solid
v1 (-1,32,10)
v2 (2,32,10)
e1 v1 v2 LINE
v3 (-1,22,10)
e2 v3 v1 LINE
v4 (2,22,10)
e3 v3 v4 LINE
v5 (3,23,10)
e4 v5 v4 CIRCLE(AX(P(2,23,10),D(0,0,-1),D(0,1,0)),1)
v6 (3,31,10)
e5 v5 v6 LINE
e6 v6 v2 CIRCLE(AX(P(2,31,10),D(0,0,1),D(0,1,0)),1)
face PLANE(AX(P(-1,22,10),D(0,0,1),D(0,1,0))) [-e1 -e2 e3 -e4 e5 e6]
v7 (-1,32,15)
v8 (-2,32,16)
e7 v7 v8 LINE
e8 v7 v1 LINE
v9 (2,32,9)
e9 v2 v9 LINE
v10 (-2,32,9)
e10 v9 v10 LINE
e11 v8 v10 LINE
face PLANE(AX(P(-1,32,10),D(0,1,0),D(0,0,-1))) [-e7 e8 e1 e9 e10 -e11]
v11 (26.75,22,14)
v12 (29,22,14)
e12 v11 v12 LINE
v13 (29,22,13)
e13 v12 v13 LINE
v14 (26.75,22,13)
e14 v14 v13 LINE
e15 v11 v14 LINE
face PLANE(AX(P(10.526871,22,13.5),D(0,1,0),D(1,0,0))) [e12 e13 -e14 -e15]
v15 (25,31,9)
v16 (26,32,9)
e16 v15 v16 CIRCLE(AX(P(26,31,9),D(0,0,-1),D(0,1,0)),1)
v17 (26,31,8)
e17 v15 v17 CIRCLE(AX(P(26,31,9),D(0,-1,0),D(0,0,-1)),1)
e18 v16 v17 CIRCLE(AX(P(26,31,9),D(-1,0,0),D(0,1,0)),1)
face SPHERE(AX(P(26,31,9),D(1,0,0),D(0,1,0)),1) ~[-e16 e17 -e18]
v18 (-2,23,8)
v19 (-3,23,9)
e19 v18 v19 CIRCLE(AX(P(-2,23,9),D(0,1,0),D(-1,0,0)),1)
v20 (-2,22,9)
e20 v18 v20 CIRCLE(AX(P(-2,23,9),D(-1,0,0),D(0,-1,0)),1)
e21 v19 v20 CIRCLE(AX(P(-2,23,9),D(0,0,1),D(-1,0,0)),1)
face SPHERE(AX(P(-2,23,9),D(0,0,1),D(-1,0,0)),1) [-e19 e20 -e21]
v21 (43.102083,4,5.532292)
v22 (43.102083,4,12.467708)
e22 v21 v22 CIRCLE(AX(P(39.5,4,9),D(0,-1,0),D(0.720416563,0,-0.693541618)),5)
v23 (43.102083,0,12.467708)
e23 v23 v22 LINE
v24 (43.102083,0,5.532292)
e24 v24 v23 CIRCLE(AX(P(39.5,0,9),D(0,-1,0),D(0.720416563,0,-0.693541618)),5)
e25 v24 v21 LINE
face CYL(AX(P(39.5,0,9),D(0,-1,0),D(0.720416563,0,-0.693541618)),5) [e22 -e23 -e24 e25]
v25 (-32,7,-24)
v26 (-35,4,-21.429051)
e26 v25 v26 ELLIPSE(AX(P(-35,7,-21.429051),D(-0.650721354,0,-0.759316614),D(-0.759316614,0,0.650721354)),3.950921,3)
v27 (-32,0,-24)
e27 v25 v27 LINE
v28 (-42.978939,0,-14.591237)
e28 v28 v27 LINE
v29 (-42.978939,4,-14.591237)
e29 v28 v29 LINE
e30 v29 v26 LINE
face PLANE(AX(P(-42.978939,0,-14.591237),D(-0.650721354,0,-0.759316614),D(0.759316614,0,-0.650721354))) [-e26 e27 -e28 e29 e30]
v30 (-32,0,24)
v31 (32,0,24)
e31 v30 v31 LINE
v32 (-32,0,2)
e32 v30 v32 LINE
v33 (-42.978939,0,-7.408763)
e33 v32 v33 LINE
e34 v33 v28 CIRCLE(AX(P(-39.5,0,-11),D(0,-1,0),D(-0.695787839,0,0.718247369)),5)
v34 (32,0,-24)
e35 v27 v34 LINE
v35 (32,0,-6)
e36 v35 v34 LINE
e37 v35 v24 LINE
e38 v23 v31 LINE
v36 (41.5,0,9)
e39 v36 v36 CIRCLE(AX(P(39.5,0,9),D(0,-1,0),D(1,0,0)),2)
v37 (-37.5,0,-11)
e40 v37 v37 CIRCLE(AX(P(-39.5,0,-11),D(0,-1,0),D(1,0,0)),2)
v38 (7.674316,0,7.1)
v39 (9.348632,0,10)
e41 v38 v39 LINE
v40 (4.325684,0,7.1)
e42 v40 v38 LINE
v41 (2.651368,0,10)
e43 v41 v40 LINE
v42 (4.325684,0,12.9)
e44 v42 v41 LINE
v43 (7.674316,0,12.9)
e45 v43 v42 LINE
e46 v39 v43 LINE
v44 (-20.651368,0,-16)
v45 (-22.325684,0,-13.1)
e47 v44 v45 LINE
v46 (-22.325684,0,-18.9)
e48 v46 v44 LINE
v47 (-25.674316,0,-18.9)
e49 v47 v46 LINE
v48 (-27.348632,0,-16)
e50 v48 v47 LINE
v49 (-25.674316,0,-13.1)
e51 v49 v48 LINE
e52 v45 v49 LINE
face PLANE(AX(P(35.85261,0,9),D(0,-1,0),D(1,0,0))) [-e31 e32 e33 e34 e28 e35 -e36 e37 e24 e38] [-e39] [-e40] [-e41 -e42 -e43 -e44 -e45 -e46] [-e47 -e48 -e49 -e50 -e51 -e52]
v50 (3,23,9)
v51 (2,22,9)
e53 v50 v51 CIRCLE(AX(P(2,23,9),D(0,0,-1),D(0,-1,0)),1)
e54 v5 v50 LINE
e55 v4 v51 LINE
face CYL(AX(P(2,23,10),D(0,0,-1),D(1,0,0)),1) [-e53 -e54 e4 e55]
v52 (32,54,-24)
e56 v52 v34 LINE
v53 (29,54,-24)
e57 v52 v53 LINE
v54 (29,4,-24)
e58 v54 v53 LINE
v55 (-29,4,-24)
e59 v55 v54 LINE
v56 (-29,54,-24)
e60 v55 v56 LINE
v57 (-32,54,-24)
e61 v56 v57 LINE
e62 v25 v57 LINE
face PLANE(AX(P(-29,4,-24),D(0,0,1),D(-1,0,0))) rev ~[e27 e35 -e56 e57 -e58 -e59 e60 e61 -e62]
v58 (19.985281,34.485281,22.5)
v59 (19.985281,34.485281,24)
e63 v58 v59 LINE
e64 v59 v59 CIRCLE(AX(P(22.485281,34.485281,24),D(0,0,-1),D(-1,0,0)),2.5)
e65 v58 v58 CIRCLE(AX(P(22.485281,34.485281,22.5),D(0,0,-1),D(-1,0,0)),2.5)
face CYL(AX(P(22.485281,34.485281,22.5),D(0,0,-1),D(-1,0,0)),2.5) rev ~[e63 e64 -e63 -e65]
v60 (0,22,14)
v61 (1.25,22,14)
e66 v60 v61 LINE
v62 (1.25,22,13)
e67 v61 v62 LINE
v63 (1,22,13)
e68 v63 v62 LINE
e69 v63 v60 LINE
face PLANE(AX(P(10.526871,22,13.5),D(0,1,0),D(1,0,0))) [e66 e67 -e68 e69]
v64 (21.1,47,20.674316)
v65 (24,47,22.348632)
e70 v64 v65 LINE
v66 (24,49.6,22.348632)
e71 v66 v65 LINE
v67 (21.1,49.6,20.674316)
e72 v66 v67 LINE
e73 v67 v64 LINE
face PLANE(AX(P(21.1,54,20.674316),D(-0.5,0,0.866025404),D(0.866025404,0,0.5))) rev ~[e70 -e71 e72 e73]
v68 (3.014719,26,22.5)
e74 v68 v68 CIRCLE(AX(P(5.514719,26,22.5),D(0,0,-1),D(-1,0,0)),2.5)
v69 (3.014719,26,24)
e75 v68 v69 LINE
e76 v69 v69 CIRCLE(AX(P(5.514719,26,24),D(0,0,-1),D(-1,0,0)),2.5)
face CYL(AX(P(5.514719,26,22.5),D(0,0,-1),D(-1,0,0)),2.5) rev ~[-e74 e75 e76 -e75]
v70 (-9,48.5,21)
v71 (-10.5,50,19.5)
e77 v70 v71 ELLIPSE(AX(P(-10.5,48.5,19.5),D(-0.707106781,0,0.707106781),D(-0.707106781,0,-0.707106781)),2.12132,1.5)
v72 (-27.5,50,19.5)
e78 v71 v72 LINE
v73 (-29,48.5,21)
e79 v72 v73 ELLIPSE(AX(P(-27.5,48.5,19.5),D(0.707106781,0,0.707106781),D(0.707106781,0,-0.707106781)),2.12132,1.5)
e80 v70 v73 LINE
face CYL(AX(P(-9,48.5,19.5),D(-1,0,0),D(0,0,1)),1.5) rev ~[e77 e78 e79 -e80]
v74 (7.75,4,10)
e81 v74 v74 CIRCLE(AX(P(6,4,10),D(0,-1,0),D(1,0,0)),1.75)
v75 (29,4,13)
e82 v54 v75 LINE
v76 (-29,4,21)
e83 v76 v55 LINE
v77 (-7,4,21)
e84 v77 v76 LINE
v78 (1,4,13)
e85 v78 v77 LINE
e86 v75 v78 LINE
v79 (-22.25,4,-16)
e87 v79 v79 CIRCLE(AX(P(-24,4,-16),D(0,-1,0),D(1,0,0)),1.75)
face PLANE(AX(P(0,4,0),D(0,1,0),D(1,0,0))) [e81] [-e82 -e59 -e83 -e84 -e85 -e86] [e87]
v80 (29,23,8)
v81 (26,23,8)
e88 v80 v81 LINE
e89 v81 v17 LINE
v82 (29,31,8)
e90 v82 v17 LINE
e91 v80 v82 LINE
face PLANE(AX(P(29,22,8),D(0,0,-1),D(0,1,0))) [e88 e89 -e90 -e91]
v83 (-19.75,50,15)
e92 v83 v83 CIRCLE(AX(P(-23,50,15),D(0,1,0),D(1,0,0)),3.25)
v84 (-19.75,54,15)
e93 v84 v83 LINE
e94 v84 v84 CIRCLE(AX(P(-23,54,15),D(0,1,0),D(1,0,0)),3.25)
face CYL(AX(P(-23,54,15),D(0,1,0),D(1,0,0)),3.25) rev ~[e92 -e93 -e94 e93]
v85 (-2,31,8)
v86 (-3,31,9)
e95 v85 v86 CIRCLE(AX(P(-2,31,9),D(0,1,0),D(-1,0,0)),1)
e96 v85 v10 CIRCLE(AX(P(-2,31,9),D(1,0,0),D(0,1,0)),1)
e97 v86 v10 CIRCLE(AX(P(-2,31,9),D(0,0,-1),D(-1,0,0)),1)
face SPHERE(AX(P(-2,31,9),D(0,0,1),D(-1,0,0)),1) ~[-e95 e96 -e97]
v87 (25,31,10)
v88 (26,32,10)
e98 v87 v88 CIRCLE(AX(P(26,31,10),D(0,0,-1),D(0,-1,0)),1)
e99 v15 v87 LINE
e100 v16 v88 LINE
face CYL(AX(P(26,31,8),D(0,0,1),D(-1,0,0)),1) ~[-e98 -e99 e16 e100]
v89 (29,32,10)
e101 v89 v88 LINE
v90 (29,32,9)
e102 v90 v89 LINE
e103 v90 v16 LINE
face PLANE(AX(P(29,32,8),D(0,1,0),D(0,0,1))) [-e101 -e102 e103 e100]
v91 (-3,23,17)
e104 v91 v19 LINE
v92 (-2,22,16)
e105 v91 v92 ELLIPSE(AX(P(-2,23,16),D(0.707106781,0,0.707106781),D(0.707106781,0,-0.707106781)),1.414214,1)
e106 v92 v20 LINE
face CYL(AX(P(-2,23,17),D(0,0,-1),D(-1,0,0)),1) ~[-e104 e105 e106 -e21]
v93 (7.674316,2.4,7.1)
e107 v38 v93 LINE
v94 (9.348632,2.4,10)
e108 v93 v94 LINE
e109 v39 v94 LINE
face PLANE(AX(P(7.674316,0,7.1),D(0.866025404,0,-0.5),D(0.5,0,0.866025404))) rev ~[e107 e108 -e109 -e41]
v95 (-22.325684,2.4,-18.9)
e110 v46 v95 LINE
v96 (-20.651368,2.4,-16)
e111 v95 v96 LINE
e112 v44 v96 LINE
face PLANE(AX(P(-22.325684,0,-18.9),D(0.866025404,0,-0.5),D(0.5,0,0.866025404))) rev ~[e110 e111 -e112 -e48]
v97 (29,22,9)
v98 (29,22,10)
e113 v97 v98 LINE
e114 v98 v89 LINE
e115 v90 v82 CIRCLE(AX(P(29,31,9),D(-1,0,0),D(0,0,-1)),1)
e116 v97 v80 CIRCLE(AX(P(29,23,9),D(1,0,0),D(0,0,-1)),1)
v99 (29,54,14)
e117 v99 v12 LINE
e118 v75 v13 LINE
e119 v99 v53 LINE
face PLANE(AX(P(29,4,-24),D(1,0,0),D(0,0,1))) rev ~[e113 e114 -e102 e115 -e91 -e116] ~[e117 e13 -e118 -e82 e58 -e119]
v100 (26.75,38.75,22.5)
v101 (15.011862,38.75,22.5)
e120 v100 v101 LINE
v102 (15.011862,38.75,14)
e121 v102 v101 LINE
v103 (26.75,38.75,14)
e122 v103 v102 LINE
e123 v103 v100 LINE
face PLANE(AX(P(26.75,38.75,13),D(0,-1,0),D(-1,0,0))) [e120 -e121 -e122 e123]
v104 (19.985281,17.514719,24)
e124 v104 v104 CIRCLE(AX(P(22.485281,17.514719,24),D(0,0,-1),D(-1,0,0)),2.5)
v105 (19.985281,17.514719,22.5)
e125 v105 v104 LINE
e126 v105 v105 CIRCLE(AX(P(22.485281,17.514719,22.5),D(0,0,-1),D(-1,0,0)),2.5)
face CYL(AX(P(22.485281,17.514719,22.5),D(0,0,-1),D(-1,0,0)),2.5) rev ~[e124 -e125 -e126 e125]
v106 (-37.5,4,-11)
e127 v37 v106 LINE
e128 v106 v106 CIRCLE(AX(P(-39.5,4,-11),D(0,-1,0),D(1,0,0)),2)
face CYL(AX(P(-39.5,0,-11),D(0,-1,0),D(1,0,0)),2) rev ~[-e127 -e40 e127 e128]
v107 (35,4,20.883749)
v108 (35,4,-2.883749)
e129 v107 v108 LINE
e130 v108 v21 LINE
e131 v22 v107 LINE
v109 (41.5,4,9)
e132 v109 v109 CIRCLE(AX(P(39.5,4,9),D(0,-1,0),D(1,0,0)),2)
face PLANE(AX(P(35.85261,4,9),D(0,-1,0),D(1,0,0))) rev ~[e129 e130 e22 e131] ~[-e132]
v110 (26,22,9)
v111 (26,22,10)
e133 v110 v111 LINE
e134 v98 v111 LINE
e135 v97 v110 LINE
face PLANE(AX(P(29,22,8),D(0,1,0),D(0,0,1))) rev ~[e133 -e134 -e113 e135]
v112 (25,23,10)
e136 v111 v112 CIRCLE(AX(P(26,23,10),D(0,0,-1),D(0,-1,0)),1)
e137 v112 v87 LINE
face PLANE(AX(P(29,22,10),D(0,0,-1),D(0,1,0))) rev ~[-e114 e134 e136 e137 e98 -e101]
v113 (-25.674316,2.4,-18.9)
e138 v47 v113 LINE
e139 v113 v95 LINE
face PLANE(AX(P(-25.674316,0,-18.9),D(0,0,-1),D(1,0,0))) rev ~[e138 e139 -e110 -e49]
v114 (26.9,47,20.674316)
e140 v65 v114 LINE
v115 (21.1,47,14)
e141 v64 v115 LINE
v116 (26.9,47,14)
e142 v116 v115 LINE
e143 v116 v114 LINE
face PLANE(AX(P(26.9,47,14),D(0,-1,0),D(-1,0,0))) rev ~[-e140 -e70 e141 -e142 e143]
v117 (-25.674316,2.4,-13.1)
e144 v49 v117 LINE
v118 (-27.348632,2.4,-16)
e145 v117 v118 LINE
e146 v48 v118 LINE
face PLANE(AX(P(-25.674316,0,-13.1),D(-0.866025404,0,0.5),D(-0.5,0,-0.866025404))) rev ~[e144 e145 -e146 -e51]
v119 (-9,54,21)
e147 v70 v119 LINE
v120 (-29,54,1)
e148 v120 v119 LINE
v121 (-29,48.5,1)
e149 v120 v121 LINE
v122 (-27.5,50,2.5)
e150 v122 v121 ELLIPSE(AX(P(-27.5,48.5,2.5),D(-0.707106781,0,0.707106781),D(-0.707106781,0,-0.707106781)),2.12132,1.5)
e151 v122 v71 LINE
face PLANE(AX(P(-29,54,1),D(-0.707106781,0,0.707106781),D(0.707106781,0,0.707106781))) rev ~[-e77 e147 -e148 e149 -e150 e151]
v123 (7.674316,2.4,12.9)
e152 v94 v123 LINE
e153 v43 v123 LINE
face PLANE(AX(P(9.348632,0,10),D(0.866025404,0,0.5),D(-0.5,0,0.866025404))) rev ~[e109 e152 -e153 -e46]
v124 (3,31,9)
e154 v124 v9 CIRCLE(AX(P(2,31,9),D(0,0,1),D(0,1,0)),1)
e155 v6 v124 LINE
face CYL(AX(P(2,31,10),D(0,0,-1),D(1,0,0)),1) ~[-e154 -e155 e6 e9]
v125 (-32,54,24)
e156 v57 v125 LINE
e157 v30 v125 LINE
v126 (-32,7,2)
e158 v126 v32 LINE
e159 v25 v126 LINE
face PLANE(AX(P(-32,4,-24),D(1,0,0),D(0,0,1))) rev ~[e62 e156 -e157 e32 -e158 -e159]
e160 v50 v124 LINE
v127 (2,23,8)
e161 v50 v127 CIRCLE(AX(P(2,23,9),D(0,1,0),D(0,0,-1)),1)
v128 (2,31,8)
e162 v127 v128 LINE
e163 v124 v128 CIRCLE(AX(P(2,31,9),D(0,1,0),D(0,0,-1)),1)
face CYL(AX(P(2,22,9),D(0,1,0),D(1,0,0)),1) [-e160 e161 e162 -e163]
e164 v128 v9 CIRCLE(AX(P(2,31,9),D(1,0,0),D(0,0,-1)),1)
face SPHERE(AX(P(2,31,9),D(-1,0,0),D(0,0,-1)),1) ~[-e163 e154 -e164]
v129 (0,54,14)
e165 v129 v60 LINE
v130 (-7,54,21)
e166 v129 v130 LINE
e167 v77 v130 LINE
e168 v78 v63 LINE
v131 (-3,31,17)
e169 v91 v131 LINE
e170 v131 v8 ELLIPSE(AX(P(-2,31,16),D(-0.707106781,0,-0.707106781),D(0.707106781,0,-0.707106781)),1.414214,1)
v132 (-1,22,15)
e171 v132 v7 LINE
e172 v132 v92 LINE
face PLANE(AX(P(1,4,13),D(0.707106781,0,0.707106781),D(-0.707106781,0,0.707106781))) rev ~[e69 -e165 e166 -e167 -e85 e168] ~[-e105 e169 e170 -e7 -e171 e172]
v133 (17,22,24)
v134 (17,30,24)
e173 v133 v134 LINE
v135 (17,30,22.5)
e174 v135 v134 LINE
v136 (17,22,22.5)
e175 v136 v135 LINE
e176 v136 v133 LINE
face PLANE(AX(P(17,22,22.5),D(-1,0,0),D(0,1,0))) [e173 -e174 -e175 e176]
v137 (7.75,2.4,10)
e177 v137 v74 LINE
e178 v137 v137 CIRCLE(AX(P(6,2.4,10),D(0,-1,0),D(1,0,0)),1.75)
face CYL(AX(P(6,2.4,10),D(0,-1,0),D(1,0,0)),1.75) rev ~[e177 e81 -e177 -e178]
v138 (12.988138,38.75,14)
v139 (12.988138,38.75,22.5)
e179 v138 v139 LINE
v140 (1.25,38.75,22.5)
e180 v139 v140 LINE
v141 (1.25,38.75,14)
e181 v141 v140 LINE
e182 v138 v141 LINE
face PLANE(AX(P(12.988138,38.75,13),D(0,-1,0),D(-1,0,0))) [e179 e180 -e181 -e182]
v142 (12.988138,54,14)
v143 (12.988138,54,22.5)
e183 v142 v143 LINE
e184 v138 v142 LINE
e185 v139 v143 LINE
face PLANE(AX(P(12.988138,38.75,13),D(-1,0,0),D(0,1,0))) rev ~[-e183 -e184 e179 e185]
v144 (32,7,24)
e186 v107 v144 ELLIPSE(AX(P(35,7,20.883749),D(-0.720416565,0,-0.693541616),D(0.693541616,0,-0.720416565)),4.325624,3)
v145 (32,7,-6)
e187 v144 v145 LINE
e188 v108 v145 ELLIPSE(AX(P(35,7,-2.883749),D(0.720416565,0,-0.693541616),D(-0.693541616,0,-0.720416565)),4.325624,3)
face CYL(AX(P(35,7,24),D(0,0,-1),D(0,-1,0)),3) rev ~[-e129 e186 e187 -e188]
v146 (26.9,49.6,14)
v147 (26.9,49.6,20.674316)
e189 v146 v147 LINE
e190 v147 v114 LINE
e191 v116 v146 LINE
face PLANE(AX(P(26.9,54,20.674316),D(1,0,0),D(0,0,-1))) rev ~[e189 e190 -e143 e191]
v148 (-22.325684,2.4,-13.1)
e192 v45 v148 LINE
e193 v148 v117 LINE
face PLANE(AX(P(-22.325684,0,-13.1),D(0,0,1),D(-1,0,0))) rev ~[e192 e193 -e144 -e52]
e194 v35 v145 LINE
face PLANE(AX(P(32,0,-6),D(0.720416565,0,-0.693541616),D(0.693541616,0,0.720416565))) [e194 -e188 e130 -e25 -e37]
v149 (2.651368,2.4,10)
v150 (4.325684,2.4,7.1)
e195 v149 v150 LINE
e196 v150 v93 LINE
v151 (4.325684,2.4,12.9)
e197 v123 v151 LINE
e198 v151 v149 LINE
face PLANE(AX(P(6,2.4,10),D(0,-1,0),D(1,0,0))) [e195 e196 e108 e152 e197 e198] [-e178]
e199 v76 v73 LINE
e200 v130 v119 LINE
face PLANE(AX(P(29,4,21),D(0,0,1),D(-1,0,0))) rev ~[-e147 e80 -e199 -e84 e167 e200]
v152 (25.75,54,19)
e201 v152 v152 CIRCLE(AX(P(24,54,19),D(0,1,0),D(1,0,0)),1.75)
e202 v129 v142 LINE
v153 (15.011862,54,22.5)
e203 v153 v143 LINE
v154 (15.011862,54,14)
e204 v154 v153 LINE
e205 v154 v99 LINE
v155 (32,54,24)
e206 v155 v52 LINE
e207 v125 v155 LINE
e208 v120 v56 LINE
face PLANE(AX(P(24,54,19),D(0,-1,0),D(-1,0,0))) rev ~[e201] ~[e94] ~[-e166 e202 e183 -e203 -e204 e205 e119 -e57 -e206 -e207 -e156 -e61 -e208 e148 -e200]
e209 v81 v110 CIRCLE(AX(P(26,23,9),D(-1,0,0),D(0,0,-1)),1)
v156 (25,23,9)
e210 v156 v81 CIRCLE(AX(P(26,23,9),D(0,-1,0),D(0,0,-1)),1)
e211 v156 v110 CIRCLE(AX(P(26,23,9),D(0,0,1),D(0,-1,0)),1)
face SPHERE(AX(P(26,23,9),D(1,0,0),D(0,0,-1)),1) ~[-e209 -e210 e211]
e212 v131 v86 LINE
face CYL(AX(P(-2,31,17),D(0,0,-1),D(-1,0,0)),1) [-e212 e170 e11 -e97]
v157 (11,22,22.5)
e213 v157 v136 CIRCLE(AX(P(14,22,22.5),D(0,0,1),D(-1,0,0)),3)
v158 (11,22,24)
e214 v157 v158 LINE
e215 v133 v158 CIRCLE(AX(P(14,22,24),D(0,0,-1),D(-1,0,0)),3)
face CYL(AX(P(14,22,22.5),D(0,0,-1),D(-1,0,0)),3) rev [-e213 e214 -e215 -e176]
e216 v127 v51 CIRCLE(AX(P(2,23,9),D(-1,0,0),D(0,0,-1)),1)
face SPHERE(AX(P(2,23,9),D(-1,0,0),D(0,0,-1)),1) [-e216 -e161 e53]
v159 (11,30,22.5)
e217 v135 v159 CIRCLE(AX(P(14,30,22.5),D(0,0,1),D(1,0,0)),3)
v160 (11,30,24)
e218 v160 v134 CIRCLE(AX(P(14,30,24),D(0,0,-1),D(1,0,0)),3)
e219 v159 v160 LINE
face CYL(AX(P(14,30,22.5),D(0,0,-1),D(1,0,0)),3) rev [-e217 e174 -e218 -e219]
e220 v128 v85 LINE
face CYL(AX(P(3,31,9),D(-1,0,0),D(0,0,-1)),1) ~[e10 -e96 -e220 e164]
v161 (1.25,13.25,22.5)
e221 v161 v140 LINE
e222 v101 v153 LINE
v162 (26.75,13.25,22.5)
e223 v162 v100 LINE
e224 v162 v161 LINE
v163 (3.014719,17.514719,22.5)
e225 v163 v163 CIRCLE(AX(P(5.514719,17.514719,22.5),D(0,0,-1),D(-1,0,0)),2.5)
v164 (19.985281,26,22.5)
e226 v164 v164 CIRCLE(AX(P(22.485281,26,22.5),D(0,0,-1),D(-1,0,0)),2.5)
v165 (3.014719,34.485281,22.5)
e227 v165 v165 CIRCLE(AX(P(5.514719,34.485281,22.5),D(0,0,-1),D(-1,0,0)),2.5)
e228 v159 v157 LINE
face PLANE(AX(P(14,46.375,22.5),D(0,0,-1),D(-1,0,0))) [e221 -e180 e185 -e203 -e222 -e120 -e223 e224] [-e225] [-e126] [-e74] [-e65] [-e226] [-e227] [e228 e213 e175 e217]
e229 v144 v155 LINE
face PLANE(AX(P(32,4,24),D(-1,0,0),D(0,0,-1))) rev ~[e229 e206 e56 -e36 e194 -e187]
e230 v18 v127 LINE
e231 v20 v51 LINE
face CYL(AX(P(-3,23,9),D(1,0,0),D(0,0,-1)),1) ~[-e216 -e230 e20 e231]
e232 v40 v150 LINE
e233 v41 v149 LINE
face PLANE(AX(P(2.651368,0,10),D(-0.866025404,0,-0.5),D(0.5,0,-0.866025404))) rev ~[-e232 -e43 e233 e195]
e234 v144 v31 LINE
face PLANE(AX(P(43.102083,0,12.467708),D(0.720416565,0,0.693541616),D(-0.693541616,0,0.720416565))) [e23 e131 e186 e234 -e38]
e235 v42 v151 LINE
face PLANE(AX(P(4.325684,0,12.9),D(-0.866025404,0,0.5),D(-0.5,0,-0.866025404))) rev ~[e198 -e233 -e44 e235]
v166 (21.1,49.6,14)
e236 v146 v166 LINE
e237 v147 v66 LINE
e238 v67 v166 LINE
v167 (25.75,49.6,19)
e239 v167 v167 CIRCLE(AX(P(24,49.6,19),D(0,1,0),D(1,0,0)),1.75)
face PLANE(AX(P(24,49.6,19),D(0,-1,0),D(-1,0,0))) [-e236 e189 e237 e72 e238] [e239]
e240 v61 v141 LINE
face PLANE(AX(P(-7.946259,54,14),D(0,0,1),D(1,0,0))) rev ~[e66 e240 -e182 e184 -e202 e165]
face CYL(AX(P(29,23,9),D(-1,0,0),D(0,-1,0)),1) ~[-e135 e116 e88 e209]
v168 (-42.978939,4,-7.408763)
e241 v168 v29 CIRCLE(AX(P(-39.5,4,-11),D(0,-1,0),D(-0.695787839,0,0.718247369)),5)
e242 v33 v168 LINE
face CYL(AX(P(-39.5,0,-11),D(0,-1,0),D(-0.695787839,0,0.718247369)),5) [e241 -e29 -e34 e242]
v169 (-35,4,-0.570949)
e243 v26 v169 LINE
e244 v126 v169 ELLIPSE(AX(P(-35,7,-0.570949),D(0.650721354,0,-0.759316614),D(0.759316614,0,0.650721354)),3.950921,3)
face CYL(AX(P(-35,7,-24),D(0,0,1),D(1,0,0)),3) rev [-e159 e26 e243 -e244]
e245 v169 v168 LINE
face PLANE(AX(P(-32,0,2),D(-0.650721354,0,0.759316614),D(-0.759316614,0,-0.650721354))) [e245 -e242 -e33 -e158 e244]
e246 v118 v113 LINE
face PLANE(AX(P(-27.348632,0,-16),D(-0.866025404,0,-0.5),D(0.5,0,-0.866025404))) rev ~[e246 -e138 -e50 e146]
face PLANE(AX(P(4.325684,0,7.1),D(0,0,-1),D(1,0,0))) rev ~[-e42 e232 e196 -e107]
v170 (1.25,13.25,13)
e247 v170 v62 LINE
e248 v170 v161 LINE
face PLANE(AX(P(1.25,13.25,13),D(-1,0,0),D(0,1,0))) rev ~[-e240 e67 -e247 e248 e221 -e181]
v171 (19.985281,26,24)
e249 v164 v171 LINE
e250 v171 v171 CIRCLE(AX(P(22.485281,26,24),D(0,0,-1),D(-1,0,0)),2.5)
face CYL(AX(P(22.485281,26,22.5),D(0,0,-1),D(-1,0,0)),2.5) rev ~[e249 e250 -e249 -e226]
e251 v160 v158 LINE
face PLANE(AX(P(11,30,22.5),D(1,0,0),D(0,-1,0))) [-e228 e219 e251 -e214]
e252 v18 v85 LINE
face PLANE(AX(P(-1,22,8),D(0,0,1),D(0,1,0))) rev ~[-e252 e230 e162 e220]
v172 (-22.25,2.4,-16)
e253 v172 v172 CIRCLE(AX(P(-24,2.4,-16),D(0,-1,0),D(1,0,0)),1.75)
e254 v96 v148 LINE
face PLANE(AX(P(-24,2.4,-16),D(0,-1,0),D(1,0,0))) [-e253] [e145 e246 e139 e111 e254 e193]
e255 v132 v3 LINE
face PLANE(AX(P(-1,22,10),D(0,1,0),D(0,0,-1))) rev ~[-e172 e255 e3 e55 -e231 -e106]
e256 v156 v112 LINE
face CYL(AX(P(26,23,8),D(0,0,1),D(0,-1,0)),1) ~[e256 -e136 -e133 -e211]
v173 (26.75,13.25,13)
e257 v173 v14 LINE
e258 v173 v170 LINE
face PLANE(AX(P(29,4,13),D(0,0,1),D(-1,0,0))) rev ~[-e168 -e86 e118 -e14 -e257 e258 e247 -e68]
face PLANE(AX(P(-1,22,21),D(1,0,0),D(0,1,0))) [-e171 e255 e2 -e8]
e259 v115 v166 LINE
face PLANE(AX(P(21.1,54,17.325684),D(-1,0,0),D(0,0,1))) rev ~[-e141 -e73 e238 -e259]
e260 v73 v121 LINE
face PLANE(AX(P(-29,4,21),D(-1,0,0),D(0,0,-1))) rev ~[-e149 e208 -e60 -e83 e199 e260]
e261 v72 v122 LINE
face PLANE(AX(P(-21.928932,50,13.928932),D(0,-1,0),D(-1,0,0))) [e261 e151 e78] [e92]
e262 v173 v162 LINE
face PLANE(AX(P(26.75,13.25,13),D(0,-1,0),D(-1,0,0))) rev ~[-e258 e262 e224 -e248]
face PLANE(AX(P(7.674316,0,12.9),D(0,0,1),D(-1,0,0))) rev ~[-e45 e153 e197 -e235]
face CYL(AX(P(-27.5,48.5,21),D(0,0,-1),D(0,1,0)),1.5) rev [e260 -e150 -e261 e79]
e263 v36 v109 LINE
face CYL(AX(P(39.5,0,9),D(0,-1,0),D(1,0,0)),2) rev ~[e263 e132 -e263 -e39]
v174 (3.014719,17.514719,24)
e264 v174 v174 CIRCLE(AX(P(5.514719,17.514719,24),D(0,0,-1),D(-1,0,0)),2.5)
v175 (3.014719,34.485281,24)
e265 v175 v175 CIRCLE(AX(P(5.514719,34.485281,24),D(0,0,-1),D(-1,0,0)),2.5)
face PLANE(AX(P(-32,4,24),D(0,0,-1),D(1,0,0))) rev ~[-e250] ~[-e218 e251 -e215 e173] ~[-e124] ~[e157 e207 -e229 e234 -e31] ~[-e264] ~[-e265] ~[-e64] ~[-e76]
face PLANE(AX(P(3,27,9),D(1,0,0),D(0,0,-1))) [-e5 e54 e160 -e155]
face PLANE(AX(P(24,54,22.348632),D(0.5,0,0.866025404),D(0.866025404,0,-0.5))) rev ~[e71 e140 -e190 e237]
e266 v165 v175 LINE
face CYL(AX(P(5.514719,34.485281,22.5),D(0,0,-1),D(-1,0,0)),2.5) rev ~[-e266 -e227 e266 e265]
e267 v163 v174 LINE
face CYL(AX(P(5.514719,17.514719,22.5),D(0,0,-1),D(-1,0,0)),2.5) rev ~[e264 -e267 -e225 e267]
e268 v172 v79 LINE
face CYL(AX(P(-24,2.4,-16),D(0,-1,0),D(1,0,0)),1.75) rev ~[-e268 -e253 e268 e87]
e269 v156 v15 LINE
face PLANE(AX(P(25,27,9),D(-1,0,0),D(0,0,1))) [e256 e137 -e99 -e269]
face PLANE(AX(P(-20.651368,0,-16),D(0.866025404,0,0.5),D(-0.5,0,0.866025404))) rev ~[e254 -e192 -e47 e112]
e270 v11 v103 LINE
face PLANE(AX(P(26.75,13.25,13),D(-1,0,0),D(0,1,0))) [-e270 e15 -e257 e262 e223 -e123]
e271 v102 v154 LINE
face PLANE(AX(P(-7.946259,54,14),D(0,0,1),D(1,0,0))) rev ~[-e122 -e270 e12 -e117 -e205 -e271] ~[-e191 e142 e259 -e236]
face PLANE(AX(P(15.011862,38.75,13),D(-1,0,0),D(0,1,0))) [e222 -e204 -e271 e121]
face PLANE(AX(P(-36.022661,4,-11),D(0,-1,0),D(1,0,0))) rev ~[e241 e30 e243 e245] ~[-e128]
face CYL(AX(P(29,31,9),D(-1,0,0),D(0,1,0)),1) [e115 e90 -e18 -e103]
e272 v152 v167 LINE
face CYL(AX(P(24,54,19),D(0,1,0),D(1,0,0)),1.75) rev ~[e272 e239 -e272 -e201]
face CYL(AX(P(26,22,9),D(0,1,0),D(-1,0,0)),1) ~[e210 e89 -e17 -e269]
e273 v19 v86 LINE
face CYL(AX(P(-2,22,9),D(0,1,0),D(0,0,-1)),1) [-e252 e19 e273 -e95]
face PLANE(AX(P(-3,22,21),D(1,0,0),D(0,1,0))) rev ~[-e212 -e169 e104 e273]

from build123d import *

# Parameters (mm, degrees)
SKETCH1_W            = 64
SKETCH1_H            = 48
BOSS_EXTRUDE1_DEPTH  = 4
CUT_EXTRUDE1_DEPTH   = 2.4
CUT_EXTRUDE2_DEPTH   = 2.4
BOSS_EXTRUDE3_DEPTH  = 50
BOSS_EXTRUDE4_DEPTH  = 50
SKETCH10_W           = 2.02372337
SKETCH10_H           = 15.25
SKETCH10_W_2         = 25.5
SKETCH10_H_2         = 25.5
CUT_EXTRUDE4_DEPTH   = 9.5
SKETCH13_W           = 36.946258726
SKETCH13_H           = 1
CUT_EXTRUDE6_DEPTH   = 32
SKETCH15_R           = 3.25
BOSS_EXTRUDE5_DEPTH  = 4
CUT_EXTRUDE7_DEPTH   = 7
SKETCH18_W           = 5.8
SKETCH18_H           = 2.6
CUT_EXTRUDE8_DEPTH   = 5
SKETCH19_R           = 1.75
BOSS_EXTRUDE8_DEPTH  = 4.4
FILLET1_R            = 1.5
SKETCH20_R           = 2
BOSS_EXTRUDE9_DEPTH  = 4
FILLET2_R            = 3
SKETCH22_R           = 1.75
CUT_EXTRUDE9_DEPTH   = 2
SKETCH23_R           = 2.5
CUT_EXTRUDE10_DEPTH  = 3
SKETCH24_W           = 2
SKETCH24_H           = 10
BOSS_EXTRUDE10_DEPTH = 4
SKETCH25_W           = 2
SKETCH25_H           = 10
BOSS_EXTRUDE11_DEPTH = 13
SKETCH26_W           = 2
SKETCH26_H           = 10
BOSS_EXTRUDE12_DEPTH = 4
FILLET4_R            = 1


with BuildPart() as part:
    # Sketch1 → Boss-Extrude1 (new body)
    with BuildSketch(Plane(origin=(0, 0, 0), x_dir=(1, 0, 0), z_dir=(0, 1, 0))):
        Rectangle(SKETCH1_W, SKETCH1_H)
    extrude(amount=BOSS_EXTRUDE1_DEPTH)

    # Sketch2 → Cut-Extrude1 (cut)
    with BuildSketch(Plane.XZ):
        Polygon((-20.651368439, -16), (-22.325684219, -13.1), (-25.674315781, -13.1), (-27.348631561, -16), (-25.674315781, -18.9), (-22.325684219, -18.9), align=None)
    extrude(amount=-CUT_EXTRUDE1_DEPTH, mode=Mode.SUBTRACT)

    # Sketch4 → Cut-Extrude2 (cut)
    with BuildSketch(Plane.XZ):
        Polygon((9.348631561, 10), (7.674315781, 12.9), (4.325684219, 12.9), (2.651368439, 10), (4.325684219, 7.1), (7.674315781, 7.1), align=None)
    extrude(amount=-CUT_EXTRUDE2_DEPTH, mode=Mode.SUBTRACT)

    # Sketch6 → Boss-Extrude3 (add)
    with BuildSketch(Plane(origin=(0, 4, 0), x_dir=(1, 0, 0), z_dir=(0, 1, 0))):
        Polygon((-29, -21), (-29, 21), (-29, 24), (-32, 24), (-32, -24), (32, -24), (32, 24), (29, 24), (29, 21), (29, -21), align=None)
    extrude(amount=BOSS_EXTRUDE3_DEPTH)

    # Sketch9 → Boss-Extrude4 (add)
    with BuildSketch(Plane(origin=(0, 4, 0), x_dir=(1, 0, 0), z_dir=(0, 1, 0))):
        Polygon((29, -13), (1, -13), (-7, -21), (29, -21), align=None)
    extrude(amount=BOSS_EXTRUDE4_DEPTH)

    # Sketch10 → Cut-Extrude4 (cut)
    with BuildSketch(Plane(origin=(0, 0, 13), x_dir=(-1, 0, 0), z_dir=(0, 0, -1))):
        with Locations((-14, 46.375)):
            Rectangle(SKETCH10_W, SKETCH10_H)
        with Locations((-14, 26)):
            Rectangle(SKETCH10_W_2, SKETCH10_H_2)
    extrude(amount=-CUT_EXTRUDE4_DEPTH, mode=Mode.SUBTRACT)

    # Sketch13 → Cut-Extrude6 (cut)
    with BuildSketch(Plane(origin=(0, 54, 0), x_dir=(1, 0, 0), z_dir=(0, 1, 0))):
        with Locations((10.526870637, -13.5)):
            Rectangle(SKETCH13_W, SKETCH13_H)
    extrude(amount=-CUT_EXTRUDE6_DEPTH, mode=Mode.SUBTRACT)

    # Sketch15 → Boss-Extrude5 (add)
    with BuildSketch(Plane(origin=(0, 54, 0), x_dir=(1, 0, 0), z_dir=(0, 1, 0))):
        Polygon((-29, -1), (-9, -21), (-29, -21), align=None)
        with Locations((-23, -15)):
            Circle(SKETCH15_R, mode=Mode.SUBTRACT)
    extrude(amount=-BOSS_EXTRUDE5_DEPTH)

    # Sketch17 → Cut-Extrude7 (cut)
    with BuildSketch(Plane(origin=(0, 54, 0), x_dir=(1, 0, 0), z_dir=(0, 1, 0))):
        Polygon((24, -15.651368439), (21.1, -17.325684219), (21.1, -20.674315781), (24, -22.348631561), (26.9, -20.674315781), (26.9, -17.325684219), align=None)
    extrude(amount=-CUT_EXTRUDE7_DEPTH, mode=Mode.SUBTRACT)

    # Sketch18 → Cut-Extrude8 (cut)
    with BuildSketch(Plane(origin=(0, 0, 14), x_dir=(-1, 0, 0), z_dir=(0, 0, -1))):
        with Locations((-24, 48.3)):
            Rectangle(SKETCH18_W, SKETCH18_H)
    extrude(amount=-CUT_EXTRUDE8_DEPTH, mode=Mode.SUBTRACT)

    # Sketch19 → Boss-Extrude8 (add)
    with BuildSketch(Plane(origin=(0, 54, 0), x_dir=(1, 0, 0), z_dir=(0, 1, 0))):
        Polygon((24, -15.651368439), (26.9, -17.325684219), (26.9, -20.674315781), (24, -22.348631561), (21.1, -20.674315781), (21.1, -17.325684219), align=None)
        with Locations((24, -19)):
            Circle(SKETCH19_R, mode=Mode.SUBTRACT)
    extrude(amount=-BOSS_EXTRUDE8_DEPTH)

    # Fillet1
    fillet1_edges = [part.edges().sort_by_distance(p)[0] for p in [
        (-29, 50, 11),
        (-19, 50, 21),
    ]]
    fillet(fillet1_edges, radius=FILLET1_R)

    # Sketch20 → Boss-Extrude9 (add)
    with BuildSketch(Plane.XZ):
        with BuildLine():
            Line((43.102082828, 12.467708073), (32.000000003, 23.999999995))
            Line((32.000000003, 23.999999995), (32, -6.000000006))
            Line((32, -6.000000006), (43.102082819, 5.532291906))
            ThreePointArc((43.102082819, 5.532291906), (44.500000003, 8.999999988), (43.102082828, 12.467708073))
        make_face()
        with Locations((39.500000002, 8.999999994)):
            Circle(SKETCH20_R, mode=Mode.SUBTRACT)
        with BuildLine():
            Line((-32, -24), (-32, 2.000000002))
            Line((-32, 2.000000002), (-42.978939192, -7.408763151))
            ThreePointArc((-42.978939192, -7.408763151), (-44.499999999, -10.999999999), (-42.978939192, -14.591236846))
            Line((-42.978939192, -14.591236846), (-32, -24))
        make_face()
        with Locations((-39.499999999, -10.999999999)):
            Circle(SKETCH20_R, mode=Mode.SUBTRACT)
    extrude(amount=-BOSS_EXTRUDE9_DEPTH)

    # Fillet2
    fillet2_edges = [part.edges().sort_by_distance(p)[0] for p in [
        (-32, 4, -10.999999999),
        (32.000000002, 4, 8.999999995),
    ]]
    fillet(fillet2_edges, radius=FILLET2_R)

    # Sketch22 → Cut-Extrude9 (cut)
    with BuildSketch(Plane.XZ.offset(-2.4)):
        with Locations((-24, -16)):
            Circle(SKETCH22_R)
        with Locations((6, 10)):
            Circle(SKETCH22_R)
    extrude(amount=-CUT_EXTRUDE9_DEPTH, mode=Mode.SUBTRACT)

    # Sketch23 → Cut-Extrude10 (cut)
    with BuildSketch(Plane(origin=(0, 0, 22.5), x_dir=(-1, 0, 0), z_dir=(0, 0, -1))):
        with Locations((-22.485281374, 34.485281374)):
            Circle(SKETCH23_R)
        with Locations((-5.514718626, 34.485281374)):
            Circle(SKETCH23_R)
        with Locations((-5.514718626, 17.514718626)):
            Circle(SKETCH23_R)
        with Locations((-22.485281374, 17.514718626)):
            Circle(SKETCH23_R)
        with Locations((-22.485281374, 26)):
            Circle(SKETCH23_R)
        with Locations((-5.514718626, 26)):
            Circle(SKETCH23_R)
        with BuildLine():
            Line((-11, 30), (-11, 22))
            ThreePointArc((-11, 22), (-14, 19), (-17, 22))
            Line((-17, 22), (-17, 30))
            ThreePointArc((-17, 30), (-14, 33), (-11, 30))
        make_face()
    extrude(amount=-CUT_EXTRUDE10_DEPTH, mode=Mode.SUBTRACT)

    # Sketch24 → Boss-Extrude10 (add)
    with BuildSketch(Plane.ZY.offset(-29)):
        with Locations((9, 27)):
            Rectangle(SKETCH24_W, SKETCH24_H)
    extrude(amount=BOSS_EXTRUDE10_DEPTH)

    # Sketch25 → Boss-Extrude11 (add)
    with BuildSketch(Plane(origin=(0, 0, 21), x_dir=(-1, 0, 0), z_dir=(0, 0, -1))):
        with Locations((2, 27)):
            Rectangle(SKETCH25_W, SKETCH25_H)
    extrude(amount=BOSS_EXTRUDE11_DEPTH)

    # Sketch26 → Boss-Extrude12 (add)
    with BuildSketch(Plane(origin=(-1, 0, 0), x_dir=(0, 0, -1), z_dir=(1, 0, 0))):
        with Locations((-9, 27)):
            Rectangle(SKETCH26_W, SKETCH26_H)
    extrude(amount=BOSS_EXTRUDE12_DEPTH)

    # Fillet4
    fillet4_edges = [part.edges().sort_by_distance(p)[0] for p in [
        (27, 32, 8),
        (27, 22, 8),
        (25, 32, 9),
        (25, 27, 8),
        (25, 22, 9),
        (-3, 22, 12.5),
        (-3, 32, 12.5),
        (-3, 27, 8),
        (0, 32, 8),
        (0, 22, 8),
        (3, 27, 8),
        (3, 32, 9),
        (3, 22, 9),
    ]]
    fillet(fillet4_edges, radius=FILLET4_R)


solid = part.part
